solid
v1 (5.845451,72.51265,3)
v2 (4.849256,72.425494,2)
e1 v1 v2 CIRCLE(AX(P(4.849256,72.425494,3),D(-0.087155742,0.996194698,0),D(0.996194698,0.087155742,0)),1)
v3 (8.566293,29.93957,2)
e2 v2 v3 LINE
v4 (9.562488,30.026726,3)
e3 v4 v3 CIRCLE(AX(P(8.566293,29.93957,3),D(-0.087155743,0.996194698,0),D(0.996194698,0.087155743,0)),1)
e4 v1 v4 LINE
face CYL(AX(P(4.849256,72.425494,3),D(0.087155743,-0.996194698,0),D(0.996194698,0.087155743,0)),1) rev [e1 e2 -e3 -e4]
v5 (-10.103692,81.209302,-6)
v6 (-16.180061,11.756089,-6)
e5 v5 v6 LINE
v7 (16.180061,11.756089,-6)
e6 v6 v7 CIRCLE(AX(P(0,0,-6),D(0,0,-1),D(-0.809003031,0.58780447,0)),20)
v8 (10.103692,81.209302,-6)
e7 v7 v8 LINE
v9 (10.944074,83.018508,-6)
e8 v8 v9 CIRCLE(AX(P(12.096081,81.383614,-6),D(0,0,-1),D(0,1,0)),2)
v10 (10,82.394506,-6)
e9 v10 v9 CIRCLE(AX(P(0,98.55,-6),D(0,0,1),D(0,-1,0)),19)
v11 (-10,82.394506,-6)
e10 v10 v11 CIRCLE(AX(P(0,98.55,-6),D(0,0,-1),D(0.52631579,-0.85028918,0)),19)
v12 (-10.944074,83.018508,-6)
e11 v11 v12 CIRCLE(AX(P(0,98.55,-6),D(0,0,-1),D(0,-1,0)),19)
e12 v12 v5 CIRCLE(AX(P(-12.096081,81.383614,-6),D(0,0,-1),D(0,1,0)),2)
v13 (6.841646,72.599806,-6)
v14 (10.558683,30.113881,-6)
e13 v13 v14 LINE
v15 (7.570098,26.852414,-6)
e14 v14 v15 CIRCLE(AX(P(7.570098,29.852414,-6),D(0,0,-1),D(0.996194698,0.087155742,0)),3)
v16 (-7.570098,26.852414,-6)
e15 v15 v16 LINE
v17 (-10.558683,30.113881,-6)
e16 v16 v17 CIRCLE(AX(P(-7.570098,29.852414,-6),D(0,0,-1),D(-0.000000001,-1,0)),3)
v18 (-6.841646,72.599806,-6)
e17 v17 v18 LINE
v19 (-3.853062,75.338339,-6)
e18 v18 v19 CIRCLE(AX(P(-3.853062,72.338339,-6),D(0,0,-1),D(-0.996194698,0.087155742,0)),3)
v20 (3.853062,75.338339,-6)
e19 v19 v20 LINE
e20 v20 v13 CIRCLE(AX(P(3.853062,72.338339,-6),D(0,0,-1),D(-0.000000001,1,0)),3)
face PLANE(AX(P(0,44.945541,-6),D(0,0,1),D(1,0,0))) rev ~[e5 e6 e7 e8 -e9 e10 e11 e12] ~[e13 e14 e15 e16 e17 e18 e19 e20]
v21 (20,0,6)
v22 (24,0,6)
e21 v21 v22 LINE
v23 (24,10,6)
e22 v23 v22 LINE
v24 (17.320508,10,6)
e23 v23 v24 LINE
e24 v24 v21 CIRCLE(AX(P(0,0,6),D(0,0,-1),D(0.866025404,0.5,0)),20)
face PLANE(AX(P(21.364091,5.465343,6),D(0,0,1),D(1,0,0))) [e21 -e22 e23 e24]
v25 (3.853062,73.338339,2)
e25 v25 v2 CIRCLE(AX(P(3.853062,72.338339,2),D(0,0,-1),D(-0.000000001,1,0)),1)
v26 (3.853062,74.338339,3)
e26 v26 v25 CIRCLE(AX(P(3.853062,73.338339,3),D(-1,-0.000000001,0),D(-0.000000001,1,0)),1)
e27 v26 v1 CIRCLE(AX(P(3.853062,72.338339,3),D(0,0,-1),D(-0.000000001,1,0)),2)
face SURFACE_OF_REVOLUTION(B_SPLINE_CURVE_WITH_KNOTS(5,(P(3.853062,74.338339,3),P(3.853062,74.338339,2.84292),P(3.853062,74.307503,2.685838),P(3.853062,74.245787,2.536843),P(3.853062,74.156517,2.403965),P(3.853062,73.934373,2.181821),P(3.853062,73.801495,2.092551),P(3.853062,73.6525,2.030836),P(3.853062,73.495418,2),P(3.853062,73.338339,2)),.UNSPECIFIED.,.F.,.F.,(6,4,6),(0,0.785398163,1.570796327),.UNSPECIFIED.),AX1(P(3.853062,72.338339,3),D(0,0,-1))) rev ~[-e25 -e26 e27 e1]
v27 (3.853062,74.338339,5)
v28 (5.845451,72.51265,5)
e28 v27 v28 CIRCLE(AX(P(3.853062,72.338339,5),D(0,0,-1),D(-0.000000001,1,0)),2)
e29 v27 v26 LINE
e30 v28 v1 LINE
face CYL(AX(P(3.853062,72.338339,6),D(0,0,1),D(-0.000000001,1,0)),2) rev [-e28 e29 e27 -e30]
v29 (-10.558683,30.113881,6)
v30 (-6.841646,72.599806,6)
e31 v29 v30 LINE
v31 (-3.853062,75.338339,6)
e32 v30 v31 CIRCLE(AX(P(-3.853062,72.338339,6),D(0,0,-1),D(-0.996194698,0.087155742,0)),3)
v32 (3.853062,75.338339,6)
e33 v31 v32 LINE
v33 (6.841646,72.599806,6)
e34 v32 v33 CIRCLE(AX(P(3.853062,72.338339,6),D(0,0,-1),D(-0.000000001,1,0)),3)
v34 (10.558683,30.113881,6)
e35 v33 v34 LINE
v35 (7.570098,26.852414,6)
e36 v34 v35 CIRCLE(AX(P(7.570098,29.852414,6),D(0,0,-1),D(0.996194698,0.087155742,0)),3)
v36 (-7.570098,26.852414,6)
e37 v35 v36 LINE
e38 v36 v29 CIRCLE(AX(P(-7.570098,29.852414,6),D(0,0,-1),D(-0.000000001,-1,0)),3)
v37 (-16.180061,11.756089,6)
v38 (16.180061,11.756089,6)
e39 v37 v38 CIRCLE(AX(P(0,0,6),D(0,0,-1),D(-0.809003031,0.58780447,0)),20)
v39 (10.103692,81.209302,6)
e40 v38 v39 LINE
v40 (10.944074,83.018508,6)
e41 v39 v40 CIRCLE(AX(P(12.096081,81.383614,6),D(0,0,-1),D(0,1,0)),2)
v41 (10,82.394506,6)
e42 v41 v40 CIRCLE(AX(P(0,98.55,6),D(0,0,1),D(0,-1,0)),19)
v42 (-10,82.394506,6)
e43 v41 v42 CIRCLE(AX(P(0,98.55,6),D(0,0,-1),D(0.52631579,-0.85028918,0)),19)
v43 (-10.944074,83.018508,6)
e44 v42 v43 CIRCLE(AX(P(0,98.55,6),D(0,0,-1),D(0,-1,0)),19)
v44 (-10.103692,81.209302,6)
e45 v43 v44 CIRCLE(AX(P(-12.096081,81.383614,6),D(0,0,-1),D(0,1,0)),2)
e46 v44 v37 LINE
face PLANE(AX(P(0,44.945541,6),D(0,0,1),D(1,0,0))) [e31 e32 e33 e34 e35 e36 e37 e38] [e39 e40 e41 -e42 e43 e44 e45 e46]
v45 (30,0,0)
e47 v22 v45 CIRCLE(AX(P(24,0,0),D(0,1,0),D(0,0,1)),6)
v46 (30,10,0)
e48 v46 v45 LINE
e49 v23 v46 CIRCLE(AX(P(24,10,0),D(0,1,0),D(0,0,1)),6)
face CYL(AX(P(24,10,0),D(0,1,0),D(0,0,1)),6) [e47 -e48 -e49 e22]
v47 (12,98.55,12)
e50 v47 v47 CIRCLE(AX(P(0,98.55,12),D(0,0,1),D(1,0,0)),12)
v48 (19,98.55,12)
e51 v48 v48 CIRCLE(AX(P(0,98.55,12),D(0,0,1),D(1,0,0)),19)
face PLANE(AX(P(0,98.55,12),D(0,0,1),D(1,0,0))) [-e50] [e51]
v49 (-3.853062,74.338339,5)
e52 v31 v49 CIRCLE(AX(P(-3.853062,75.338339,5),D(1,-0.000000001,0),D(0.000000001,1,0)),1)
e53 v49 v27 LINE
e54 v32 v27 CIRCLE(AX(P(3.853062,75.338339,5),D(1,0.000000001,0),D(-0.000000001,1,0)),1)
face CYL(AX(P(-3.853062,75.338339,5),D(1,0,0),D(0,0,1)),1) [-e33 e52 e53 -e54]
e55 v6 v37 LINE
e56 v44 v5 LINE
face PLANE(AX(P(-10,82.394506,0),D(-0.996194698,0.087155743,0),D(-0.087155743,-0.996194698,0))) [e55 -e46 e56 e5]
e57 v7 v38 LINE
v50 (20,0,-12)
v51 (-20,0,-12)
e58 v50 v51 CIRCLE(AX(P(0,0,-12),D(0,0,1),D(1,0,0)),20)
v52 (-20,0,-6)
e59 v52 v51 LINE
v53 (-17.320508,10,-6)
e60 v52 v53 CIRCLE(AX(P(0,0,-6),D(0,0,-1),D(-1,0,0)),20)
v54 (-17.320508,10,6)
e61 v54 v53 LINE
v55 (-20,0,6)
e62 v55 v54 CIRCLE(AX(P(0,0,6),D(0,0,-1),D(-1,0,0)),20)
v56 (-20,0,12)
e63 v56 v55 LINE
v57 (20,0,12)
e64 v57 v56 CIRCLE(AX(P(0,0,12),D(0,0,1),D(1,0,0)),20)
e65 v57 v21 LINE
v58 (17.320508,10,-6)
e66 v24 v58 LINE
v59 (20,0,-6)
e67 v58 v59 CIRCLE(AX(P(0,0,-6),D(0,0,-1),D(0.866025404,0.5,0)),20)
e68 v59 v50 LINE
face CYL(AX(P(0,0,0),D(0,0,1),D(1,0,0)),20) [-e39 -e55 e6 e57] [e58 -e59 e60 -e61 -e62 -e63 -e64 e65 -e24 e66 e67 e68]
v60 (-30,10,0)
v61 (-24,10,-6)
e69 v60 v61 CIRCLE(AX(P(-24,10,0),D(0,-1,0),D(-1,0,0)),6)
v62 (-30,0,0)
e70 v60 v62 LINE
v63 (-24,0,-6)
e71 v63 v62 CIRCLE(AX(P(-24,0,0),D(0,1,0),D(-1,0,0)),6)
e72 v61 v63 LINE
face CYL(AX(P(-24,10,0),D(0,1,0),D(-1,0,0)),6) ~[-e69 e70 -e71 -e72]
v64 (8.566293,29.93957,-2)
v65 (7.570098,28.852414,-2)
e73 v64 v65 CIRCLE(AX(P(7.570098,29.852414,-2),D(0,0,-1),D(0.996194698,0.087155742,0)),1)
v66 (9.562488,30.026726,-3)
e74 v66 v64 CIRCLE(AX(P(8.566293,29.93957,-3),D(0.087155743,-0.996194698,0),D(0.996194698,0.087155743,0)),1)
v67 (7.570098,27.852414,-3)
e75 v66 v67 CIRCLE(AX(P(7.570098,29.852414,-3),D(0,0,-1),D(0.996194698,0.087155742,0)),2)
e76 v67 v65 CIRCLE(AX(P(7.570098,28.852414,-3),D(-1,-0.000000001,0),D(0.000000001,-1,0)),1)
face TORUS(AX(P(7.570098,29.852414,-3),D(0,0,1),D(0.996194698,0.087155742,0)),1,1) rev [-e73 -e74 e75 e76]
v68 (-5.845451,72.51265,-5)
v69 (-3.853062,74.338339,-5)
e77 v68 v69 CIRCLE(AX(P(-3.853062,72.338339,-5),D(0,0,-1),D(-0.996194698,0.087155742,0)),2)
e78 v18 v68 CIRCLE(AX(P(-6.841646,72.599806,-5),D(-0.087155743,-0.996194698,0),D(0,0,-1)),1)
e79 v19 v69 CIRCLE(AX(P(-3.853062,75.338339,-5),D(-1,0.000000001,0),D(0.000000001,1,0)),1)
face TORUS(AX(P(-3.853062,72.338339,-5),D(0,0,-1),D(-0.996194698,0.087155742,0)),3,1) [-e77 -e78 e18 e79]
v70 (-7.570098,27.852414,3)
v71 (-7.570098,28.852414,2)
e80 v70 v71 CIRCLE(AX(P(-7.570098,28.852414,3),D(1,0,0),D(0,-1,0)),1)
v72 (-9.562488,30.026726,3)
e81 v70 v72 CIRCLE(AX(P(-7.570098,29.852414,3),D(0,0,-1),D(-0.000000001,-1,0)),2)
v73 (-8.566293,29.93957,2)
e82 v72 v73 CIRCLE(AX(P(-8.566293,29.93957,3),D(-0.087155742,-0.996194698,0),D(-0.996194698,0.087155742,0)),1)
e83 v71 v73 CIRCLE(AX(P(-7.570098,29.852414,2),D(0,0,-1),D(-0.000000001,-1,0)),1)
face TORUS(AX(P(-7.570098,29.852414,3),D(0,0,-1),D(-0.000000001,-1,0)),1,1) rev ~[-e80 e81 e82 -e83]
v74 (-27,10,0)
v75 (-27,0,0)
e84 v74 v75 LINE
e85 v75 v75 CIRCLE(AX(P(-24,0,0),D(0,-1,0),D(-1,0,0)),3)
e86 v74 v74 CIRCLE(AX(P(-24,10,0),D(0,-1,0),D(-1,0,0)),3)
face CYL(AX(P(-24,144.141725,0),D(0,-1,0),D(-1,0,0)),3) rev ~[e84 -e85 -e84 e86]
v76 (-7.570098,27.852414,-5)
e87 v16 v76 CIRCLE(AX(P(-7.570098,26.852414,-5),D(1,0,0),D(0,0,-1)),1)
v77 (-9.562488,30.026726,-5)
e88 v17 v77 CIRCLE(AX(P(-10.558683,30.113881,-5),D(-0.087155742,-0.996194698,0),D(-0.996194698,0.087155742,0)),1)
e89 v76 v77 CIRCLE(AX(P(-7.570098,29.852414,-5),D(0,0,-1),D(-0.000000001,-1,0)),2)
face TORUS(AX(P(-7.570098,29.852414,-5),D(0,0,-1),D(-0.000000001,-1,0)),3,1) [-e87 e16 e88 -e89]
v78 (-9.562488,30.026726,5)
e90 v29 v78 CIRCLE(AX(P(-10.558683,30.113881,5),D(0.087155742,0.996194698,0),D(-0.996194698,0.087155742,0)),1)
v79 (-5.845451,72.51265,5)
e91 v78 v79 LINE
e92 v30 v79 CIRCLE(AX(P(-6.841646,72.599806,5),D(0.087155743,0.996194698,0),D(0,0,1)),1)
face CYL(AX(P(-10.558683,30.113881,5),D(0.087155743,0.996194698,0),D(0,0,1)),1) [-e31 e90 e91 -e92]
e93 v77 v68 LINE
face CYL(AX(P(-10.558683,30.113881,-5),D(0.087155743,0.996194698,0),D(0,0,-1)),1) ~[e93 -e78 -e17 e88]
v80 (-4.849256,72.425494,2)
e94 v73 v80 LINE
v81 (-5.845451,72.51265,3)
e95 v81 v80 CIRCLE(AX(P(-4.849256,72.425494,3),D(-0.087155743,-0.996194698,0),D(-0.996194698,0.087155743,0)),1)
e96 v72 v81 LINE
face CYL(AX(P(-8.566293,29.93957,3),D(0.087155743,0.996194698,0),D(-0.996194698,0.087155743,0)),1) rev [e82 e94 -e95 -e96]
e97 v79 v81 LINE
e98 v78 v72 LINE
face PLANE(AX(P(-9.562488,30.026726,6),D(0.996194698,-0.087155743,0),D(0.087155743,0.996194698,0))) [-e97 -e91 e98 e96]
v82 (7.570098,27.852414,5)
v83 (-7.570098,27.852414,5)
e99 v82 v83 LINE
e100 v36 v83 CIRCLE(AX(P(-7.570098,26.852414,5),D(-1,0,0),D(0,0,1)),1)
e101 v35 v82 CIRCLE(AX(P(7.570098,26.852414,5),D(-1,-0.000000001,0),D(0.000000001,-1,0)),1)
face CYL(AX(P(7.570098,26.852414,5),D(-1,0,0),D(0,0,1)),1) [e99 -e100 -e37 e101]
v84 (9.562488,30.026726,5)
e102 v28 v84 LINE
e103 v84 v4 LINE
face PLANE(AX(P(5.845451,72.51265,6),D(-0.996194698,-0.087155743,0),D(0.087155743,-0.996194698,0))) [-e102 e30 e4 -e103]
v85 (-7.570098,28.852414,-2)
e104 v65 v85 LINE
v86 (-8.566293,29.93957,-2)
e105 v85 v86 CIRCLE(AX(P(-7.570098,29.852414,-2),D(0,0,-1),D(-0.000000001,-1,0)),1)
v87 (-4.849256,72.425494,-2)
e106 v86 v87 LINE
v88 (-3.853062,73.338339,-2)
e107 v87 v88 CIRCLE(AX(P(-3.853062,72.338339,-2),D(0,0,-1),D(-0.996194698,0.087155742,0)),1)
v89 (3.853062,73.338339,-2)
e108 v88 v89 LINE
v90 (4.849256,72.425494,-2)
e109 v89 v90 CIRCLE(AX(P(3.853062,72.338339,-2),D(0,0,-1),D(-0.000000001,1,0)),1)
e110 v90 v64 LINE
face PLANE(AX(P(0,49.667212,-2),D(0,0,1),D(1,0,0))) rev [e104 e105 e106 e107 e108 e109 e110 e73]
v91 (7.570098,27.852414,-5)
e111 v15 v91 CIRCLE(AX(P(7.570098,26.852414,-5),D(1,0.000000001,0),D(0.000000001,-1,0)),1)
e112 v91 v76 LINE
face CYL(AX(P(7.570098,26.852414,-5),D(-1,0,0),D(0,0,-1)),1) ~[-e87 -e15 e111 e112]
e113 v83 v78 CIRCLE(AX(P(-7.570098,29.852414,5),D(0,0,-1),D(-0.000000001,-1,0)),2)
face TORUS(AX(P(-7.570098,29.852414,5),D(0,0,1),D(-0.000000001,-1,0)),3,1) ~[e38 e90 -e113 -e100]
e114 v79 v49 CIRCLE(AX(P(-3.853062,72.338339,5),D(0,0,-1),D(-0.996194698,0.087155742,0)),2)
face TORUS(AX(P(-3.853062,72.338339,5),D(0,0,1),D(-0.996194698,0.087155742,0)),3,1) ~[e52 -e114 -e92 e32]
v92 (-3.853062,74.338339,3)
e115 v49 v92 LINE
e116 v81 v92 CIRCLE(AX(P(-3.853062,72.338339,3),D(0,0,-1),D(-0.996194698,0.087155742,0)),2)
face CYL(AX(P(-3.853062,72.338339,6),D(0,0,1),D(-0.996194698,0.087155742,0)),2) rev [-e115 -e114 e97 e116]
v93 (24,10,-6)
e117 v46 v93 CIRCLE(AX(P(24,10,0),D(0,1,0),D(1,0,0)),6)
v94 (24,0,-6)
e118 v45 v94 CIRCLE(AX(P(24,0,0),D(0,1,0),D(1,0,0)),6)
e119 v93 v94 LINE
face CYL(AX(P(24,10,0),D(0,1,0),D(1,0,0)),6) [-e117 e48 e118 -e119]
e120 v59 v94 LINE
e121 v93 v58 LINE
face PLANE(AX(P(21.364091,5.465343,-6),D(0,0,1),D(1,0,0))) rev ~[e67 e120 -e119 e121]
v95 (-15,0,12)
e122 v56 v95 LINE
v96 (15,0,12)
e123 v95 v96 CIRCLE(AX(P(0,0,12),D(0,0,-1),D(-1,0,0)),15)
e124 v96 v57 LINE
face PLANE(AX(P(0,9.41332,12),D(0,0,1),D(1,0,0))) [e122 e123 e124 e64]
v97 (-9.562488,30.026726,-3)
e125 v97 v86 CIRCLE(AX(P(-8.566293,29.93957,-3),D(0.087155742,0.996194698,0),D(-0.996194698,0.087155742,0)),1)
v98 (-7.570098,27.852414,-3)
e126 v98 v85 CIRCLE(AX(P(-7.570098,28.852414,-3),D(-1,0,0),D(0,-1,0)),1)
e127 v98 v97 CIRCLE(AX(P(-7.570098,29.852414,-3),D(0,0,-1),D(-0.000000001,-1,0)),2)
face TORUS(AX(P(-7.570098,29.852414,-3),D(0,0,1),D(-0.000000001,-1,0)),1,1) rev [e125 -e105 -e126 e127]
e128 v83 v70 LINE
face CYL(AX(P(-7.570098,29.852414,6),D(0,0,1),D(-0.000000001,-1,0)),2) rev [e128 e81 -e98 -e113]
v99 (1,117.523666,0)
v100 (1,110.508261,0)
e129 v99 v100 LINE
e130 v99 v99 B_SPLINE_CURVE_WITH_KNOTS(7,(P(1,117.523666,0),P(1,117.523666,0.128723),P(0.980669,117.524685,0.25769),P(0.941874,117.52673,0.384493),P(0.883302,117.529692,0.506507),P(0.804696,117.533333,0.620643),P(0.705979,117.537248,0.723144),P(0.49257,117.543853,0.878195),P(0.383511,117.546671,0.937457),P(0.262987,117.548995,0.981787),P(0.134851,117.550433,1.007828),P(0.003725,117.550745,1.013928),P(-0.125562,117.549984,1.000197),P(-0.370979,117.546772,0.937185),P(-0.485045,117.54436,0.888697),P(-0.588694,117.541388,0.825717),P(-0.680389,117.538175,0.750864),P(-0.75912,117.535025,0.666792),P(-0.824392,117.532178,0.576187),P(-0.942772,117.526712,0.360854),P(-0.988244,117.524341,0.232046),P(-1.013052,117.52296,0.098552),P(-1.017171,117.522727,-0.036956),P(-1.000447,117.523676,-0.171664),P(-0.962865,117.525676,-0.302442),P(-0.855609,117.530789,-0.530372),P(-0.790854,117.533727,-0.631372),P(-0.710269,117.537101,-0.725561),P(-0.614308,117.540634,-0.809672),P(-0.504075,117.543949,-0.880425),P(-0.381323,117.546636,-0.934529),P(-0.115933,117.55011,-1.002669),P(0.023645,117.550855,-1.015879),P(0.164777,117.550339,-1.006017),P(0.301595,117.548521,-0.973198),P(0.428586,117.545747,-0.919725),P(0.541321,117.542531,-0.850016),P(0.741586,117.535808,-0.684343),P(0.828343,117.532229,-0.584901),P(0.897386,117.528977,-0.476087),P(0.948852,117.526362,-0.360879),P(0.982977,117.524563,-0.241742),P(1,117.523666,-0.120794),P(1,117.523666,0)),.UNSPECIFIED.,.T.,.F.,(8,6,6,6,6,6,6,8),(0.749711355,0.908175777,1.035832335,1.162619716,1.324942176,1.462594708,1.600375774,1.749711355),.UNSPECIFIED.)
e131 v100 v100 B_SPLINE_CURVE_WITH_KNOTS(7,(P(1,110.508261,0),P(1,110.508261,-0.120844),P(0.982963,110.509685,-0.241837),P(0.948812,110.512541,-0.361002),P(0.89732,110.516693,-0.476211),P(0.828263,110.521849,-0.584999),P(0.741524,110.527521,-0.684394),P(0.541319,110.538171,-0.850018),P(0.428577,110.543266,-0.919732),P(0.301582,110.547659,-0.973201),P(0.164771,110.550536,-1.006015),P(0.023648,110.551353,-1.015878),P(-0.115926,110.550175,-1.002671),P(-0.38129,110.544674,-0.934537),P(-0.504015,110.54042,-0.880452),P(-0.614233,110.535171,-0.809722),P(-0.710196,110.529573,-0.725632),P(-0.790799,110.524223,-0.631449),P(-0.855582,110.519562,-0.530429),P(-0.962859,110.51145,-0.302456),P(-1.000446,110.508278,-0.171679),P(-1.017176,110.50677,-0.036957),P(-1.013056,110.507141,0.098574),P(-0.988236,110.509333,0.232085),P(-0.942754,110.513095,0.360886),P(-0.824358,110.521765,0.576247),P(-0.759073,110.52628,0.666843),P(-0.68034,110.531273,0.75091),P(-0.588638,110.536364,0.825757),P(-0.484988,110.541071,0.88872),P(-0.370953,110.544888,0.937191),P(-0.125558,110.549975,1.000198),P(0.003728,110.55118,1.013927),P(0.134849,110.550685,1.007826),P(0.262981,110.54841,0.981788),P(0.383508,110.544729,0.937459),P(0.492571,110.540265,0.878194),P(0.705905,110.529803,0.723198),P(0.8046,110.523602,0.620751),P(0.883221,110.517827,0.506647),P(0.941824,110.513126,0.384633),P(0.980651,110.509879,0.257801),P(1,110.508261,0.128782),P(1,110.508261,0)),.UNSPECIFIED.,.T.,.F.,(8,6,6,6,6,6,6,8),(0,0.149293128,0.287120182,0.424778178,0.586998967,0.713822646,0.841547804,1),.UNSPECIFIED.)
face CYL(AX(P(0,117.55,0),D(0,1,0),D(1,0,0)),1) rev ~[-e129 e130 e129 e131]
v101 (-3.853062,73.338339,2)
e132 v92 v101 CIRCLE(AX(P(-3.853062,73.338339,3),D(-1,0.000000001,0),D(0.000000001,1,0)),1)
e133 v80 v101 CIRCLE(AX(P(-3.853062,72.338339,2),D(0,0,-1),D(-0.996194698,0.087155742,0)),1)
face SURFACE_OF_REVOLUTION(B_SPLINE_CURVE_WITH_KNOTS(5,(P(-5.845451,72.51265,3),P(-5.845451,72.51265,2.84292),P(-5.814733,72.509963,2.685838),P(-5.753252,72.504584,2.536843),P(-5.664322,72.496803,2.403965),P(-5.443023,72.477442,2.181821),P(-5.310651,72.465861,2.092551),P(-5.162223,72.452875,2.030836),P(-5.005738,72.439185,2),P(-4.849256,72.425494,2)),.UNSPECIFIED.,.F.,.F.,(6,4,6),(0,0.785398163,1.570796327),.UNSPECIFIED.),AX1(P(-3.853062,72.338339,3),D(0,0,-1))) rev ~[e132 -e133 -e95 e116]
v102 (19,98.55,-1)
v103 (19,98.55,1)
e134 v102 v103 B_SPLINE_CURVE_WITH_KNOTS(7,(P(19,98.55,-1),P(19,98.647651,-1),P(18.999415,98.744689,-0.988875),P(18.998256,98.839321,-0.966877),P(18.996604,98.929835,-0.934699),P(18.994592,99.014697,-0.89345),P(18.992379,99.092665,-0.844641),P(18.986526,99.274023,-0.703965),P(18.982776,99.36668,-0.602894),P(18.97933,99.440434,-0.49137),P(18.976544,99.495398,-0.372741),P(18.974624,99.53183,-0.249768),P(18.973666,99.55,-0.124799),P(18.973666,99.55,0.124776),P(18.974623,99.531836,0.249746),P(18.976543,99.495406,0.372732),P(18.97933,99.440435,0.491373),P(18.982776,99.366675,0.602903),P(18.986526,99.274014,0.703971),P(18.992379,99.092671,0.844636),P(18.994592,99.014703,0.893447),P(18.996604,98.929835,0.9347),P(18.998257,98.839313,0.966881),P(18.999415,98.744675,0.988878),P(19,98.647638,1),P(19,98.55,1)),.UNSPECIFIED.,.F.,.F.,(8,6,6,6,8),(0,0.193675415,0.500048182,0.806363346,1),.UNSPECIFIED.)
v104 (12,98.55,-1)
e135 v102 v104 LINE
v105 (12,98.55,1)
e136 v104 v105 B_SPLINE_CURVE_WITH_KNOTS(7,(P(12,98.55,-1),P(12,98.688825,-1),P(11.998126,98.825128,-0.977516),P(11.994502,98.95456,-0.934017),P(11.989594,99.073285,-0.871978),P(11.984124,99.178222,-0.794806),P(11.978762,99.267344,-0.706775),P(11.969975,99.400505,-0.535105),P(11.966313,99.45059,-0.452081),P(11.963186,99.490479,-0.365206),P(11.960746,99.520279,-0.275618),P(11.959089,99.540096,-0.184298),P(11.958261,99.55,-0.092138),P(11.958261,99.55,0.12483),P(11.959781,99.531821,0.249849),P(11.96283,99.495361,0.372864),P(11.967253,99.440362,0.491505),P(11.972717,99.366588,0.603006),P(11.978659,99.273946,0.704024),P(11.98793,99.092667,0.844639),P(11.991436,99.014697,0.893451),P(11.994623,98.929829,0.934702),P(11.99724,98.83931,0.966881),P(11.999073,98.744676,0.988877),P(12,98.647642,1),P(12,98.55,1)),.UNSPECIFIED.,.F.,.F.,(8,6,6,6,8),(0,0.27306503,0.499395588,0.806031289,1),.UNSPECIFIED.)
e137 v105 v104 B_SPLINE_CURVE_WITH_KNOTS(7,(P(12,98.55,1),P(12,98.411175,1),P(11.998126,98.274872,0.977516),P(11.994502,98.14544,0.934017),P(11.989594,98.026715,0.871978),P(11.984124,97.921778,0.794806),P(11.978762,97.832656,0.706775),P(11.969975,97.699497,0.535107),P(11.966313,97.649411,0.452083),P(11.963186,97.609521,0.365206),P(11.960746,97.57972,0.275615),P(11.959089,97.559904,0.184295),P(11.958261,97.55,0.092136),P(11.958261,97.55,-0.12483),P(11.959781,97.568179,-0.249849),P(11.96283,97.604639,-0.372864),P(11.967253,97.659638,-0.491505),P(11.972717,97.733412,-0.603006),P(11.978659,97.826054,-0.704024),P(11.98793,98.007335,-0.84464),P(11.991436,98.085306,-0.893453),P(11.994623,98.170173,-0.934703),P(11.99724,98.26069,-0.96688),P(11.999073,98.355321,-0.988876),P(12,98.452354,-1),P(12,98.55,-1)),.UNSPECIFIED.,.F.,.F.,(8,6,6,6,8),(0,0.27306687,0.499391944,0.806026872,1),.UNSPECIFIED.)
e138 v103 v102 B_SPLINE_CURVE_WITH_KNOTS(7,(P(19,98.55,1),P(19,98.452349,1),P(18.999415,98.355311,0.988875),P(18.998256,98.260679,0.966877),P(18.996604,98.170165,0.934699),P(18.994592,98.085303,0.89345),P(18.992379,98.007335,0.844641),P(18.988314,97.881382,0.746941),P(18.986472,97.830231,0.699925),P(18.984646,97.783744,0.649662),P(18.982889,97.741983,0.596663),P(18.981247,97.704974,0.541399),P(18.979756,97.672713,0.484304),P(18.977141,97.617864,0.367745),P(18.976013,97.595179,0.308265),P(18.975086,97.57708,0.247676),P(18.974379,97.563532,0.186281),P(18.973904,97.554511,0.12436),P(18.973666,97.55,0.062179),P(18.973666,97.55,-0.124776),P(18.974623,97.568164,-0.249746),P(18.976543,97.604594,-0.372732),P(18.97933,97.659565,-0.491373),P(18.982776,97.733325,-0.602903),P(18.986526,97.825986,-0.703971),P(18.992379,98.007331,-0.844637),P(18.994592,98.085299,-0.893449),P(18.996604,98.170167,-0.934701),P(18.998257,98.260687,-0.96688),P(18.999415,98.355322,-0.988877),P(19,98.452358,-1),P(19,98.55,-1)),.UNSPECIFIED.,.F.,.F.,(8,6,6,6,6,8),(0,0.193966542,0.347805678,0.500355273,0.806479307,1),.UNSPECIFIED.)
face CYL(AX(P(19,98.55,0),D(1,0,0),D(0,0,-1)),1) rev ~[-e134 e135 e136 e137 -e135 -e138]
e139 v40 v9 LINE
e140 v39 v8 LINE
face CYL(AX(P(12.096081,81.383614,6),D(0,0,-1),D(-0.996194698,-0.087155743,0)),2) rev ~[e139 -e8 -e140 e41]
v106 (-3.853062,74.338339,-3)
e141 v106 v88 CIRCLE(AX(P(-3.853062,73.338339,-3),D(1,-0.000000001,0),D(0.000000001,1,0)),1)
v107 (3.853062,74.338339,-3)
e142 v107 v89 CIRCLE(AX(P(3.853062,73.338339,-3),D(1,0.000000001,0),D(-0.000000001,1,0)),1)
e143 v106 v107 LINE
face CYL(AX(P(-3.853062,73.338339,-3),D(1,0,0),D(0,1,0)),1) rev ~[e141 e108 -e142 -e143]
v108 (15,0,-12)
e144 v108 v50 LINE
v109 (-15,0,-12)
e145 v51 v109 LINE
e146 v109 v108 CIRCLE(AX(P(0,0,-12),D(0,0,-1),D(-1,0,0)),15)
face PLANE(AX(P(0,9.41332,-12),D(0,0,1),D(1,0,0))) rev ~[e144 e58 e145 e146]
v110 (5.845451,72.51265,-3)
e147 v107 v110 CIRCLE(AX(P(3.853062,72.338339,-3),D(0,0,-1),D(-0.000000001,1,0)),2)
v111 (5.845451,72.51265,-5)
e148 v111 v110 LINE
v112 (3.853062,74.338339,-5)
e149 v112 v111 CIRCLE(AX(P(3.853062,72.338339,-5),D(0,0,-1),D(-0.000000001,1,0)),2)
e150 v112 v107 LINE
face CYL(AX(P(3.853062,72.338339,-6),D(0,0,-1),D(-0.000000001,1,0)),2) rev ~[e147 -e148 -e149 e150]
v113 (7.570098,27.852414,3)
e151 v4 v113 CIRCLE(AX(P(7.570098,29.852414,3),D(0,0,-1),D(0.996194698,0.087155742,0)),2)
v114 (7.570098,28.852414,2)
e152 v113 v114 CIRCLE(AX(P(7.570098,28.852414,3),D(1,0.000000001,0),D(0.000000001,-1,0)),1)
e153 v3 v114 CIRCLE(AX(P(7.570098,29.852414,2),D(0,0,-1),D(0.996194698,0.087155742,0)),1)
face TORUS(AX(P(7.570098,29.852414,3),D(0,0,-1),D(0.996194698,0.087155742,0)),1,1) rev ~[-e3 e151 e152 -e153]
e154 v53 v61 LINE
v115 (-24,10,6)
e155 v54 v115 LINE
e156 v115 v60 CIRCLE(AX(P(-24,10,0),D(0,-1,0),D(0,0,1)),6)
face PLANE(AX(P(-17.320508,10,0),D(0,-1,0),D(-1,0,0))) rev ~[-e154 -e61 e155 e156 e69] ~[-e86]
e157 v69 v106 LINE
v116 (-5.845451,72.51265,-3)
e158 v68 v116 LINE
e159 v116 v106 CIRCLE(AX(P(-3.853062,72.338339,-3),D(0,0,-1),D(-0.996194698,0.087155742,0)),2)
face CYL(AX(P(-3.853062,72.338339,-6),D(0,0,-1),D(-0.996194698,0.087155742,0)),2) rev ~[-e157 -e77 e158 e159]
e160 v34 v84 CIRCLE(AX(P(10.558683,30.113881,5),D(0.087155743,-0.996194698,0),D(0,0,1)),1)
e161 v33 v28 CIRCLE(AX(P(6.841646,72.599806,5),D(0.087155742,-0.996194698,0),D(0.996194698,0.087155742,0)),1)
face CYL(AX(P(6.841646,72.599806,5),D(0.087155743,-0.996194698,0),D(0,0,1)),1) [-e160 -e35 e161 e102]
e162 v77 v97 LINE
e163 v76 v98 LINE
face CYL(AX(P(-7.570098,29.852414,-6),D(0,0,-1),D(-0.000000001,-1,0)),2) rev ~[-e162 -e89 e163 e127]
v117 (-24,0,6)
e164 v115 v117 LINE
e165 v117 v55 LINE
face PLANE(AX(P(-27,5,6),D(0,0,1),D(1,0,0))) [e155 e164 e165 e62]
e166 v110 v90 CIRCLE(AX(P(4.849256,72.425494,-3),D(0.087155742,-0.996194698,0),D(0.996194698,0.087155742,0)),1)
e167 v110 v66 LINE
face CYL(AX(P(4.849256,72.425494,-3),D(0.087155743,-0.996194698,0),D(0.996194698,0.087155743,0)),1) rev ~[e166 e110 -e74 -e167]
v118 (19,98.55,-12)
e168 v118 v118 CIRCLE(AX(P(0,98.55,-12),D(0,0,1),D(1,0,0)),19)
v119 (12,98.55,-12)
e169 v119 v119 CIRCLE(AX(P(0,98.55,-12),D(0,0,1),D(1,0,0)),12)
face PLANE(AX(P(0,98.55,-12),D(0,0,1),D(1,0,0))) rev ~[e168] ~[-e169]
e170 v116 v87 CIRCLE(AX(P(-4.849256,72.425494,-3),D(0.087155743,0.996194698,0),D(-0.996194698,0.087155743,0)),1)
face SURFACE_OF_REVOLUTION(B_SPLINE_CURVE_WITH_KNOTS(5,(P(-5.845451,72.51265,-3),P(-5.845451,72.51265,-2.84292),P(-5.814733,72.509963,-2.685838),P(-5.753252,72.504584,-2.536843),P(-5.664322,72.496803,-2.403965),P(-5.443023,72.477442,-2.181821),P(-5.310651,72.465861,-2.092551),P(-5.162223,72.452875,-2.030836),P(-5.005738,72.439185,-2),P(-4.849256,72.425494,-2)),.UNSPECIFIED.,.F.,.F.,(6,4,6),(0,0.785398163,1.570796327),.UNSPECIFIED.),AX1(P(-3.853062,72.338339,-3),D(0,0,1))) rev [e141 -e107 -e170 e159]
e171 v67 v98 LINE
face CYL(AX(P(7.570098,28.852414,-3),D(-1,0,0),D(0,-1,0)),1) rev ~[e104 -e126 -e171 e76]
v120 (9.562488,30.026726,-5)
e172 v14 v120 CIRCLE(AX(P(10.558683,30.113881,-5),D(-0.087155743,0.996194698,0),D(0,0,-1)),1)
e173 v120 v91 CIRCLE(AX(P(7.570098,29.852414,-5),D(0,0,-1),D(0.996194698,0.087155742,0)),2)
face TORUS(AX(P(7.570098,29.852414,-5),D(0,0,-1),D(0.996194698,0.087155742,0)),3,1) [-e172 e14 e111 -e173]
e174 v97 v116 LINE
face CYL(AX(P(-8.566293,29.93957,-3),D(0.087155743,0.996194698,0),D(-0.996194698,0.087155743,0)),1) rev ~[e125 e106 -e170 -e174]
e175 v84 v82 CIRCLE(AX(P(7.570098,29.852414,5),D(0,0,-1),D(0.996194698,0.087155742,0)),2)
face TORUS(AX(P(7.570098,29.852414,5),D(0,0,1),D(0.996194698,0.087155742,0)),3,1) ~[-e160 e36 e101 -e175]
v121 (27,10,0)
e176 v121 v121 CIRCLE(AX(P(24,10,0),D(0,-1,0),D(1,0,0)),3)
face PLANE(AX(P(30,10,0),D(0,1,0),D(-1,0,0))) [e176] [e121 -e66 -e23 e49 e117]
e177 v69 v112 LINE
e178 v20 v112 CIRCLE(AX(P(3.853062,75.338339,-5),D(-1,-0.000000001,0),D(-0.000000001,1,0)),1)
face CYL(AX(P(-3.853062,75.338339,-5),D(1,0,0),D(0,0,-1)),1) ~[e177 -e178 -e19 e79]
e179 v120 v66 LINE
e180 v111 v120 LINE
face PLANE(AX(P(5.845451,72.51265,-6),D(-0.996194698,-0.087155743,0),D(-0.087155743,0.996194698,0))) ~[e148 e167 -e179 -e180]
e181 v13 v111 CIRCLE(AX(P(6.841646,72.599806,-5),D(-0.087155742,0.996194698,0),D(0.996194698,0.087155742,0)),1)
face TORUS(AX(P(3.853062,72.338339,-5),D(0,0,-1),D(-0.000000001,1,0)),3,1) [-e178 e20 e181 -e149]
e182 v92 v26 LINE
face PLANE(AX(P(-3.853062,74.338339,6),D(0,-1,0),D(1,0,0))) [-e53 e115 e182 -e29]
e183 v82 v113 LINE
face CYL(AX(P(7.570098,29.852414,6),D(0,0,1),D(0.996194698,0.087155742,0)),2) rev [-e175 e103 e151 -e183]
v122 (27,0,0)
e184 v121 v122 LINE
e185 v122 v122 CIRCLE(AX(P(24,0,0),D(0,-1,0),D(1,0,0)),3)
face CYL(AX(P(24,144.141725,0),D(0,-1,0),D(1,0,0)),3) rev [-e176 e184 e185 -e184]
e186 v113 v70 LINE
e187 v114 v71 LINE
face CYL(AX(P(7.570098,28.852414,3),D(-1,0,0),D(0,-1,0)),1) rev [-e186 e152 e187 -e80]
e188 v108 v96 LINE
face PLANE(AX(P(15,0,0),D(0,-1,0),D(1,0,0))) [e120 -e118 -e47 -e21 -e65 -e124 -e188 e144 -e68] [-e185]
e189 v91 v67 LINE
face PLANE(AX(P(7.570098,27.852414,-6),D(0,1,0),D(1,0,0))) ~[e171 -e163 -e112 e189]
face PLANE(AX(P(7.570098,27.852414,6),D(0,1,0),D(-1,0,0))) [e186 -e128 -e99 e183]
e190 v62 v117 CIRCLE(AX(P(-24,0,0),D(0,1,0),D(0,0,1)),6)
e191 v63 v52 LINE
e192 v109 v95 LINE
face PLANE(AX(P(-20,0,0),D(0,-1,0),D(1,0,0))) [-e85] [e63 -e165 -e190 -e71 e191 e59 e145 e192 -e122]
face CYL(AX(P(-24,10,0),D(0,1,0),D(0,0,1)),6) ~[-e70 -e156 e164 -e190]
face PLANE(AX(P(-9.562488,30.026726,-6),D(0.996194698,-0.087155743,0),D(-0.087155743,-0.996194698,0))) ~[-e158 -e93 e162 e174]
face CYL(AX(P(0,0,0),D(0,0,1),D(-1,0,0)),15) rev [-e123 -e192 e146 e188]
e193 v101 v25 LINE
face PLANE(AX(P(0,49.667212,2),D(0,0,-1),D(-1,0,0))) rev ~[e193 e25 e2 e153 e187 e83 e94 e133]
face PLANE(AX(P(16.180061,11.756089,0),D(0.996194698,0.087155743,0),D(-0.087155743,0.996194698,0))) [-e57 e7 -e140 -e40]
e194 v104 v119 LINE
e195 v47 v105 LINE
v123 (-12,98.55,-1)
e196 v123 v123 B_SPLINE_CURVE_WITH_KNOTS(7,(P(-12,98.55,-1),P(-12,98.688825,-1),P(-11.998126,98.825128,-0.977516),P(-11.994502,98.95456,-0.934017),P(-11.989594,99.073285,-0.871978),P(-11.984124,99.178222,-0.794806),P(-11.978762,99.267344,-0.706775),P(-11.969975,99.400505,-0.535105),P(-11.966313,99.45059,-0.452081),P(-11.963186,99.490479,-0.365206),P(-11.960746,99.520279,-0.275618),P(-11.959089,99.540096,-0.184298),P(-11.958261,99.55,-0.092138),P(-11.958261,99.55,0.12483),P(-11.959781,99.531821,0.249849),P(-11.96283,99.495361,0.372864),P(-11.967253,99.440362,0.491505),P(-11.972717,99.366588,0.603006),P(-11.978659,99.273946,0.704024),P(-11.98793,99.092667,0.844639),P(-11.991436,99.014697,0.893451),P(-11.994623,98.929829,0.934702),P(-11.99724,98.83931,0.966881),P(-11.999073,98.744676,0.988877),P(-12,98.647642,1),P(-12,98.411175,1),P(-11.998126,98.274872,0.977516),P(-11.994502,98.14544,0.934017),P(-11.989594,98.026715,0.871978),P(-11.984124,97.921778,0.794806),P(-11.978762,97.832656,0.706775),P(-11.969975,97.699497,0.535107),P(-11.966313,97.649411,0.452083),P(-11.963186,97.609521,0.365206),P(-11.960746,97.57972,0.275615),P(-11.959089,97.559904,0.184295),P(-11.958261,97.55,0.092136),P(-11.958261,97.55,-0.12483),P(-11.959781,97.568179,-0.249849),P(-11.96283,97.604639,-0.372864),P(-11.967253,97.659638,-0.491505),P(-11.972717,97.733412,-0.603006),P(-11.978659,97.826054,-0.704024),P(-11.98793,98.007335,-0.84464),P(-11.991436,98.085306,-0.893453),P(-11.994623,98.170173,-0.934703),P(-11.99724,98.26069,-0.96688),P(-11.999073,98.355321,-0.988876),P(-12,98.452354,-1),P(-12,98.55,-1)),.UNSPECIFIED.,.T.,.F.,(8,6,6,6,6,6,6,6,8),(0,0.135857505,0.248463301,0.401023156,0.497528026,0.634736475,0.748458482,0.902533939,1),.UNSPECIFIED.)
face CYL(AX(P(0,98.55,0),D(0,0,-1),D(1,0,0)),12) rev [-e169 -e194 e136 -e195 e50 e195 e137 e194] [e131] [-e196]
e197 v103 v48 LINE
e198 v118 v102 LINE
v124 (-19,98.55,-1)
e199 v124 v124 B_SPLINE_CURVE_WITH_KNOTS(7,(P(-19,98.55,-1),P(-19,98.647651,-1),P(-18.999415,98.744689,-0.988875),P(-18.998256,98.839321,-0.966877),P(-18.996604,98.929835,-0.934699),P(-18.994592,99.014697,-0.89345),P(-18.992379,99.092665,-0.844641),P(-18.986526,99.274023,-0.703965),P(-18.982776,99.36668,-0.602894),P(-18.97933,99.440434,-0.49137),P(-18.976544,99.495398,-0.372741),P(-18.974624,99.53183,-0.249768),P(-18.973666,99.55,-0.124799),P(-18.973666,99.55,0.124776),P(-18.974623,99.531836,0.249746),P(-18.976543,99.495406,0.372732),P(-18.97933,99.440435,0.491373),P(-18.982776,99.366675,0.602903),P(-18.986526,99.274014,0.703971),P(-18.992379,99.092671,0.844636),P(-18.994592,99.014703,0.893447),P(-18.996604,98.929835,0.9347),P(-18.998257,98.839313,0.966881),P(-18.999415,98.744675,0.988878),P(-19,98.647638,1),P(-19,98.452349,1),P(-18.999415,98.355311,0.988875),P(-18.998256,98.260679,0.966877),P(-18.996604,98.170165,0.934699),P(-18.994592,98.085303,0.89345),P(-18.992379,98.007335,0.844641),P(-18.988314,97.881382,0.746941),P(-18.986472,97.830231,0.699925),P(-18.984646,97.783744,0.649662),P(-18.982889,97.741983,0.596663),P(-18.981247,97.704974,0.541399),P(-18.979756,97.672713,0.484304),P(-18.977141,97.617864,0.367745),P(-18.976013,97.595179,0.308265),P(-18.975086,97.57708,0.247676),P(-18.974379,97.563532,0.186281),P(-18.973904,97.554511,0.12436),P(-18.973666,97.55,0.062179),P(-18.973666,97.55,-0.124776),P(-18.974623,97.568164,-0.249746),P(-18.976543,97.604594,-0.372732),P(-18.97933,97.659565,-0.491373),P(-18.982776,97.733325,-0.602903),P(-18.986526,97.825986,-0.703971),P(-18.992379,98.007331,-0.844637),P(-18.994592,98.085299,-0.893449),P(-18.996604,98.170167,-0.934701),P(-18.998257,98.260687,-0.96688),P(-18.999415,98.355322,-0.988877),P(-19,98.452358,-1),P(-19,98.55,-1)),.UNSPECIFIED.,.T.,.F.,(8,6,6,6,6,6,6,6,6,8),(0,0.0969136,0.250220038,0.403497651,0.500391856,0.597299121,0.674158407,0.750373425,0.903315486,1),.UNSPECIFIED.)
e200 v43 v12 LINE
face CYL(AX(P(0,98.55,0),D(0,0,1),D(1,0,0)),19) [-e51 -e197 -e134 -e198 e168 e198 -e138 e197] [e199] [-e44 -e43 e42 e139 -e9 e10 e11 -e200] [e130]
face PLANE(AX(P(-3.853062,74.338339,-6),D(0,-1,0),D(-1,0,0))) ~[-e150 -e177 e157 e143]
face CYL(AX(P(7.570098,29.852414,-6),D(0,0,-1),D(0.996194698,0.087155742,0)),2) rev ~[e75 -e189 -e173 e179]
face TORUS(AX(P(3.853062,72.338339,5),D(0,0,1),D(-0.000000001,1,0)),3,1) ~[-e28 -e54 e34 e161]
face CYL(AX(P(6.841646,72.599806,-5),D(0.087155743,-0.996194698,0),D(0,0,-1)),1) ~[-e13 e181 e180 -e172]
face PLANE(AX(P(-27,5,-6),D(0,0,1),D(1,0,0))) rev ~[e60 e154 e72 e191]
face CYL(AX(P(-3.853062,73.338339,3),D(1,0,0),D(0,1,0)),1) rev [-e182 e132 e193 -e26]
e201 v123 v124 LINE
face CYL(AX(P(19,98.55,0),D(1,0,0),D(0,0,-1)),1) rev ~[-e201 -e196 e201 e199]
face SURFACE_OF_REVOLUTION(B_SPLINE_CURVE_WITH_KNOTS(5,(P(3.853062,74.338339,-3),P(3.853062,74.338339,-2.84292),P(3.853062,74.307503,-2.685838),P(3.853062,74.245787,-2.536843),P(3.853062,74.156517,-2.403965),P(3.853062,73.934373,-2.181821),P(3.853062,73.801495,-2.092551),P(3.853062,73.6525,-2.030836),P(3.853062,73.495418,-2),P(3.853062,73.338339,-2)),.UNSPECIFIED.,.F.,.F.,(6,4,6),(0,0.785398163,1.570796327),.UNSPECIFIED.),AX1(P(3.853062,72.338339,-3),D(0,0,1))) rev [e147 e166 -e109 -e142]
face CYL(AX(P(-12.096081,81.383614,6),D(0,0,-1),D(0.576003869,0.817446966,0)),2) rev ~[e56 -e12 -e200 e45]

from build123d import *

# Parameters (mm, degrees)
Y_KSEKLIK_EKSTR_ZYON1_DEPTH = 12
Y_KSEKLIK_EKSTR_ZYON2_DEPTH = 6
IZIM1_4_R                   = 19
IZIM1_4_R_2                 = 12
Y_KSEKLIK_EKSTR_ZYON3_DEPTH = 12
IZIM1_5_W                   = 6
IZIM1_5_H                   = 10
Y_KSEKLIK_EKSTR_ZYON4_DEPTH = 6
KES_EKSTR_ZYON1_DEPTH       = 11
F_6_0_6_AP_DELIK1_D         = 6
KES_EKSTR_ZYON2_DEPTH       = 4
RADYUS1_R                   = 1
RADYUS2_R                   = 1
IZIM9_R                     = 1
KES_EKSTR_ZYON3_DEPTH       = 50
IZIM10_R                    = 1
KES_EKSTR_ZYON4_DEPTH       = 16
RADYUS3_R                   = 2


with BuildPart() as part:
    # Çizim1 → Yükseklik-Ekstrüzyon1 (new body, symmetric)
    with BuildSketch(Plane.XY):
        with BuildLine():
            Line((-20, 0), (-15, 0))
            ThreePointArc((-15, 0), (0, 15), (15, 0))
            Line((15, 0), (20, 0))
            ThreePointArc((20, 0), (0, 20), (-20, 0))
        make_face()
    extrude(amount=Y_KSEKLIK_EKSTR_ZYON1_DEPTH, both=True)

    # Çizim1<3> → Yükseklik-Ekstrüzyon2 (add, symmetric)
    with BuildSketch(Plane.XY):
        with BuildLine():
            Line((-10, 82.394505579), (-16.180060624, 11.756089409))
            ThreePointArc((-16.180060624, 11.756089409), (0, 20), (16.180060624, 11.756089409))
            Line((16.180060624, 11.756089409), (10, 82.394505579))
            ThreePointArc((10, 82.394505579), (0, 79.55), (-10, 82.394505579))
        make_face()
    extrude(amount=Y_KSEKLIK_EKSTR_ZYON2_DEPTH, both=True)

    # Çizim1<4> → Yükseklik-Ekstrüzyon3 (add, symmetric)
    with BuildSketch(Plane.XY):
        with Locations((0, 98.55)):
            Circle(IZIM1_4_R)
        with Locations((0, 98.55)):
            Circle(IZIM1_4_R_2, mode=Mode.SUBTRACT)
    extrude(amount=Y_KSEKLIK_EKSTR_ZYON3_DEPTH, both=True)

    # Çizim1<5> → Yükseklik-Ekstrüzyon4 (add, symmetric)
    with BuildSketch(Plane.XY):
        with Locations((-27, 5)):
            Rectangle(IZIM1_5_W, IZIM1_5_H)
        with BuildLine():
            Line((-24, 0), (-20, 0))
            ThreePointArc((-20, 0), (-19.318516526, 5.176380902), (-17.320508076, 10))
            Line((-17.320508076, 10), (-24, 10))
            Line((-24, 10), (-24, 0))
        make_face()
        with BuildLine():
            ThreePointArc((17.320508076, 10), (19.318516526, 5.176380902), (20, 0))
            Line((20, 0), (24, 0))
            Line((24, 0), (24, 10))
            Line((24, 10), (17.320508076, 10))
        make_face()
        with Locations((27, 5)):
            Rectangle(IZIM1_5_W, IZIM1_5_H)
    extrude(amount=Y_KSEKLIK_EKSTR_ZYON4_DEPTH, both=True)

    # Çizim2 → Kes-Ekstrüzyon1 (cut, through all)
    with BuildSketch(Plane(origin=(0, 10, 0), x_dir=(1, 0, 0), z_dir=(0, 1, 0))):
        with BuildLine():
            ThreePointArc((-30, 0), (-28.242640687, 4.242640687), (-24, 6))
            Line((-24, 6), (-30, 6))
            Line((-30, 6), (-30, 0))
        make_face()
        with BuildLine():
            Line((-30, -6), (-24, -6))
            ThreePointArc((-24, -6), (-28.242640687, -4.242640687), (-30, 0))
            Line((-30, 0), (-30, -6))
        make_face()
    kes_ekstr_zyon1 = extrude(amount=-KES_EKSTR_ZYON1_DEPTH, mode=Mode.SUBTRACT)

    # Ø6.0 (6) Çap Delik1 (through all)
    with Locations(Plane(origin=(0, 10, 0), x_dir=(1, 0, 0), z_dir=(0, 1, 0))):
        with Locations((-24, 0)):
            f_6_0_6_ap_delik1 = Hole(F_6_0_6_AP_DELIK1_D / 2)

    # Aynalama1: Ø6.0 (6) Çap Delik1 across plane
    add(f_6_0_6_ap_delik1.mirror(Plane(origin=(0, 0, 0), x_dir=(0, 0, 1), z_dir=(1, 0, 0))), mode=Mode.SUBTRACT)

    # Çizim8 → Kes-Ekstrüzyon2 (cut)
    with BuildSketch(Plane.XY.offset(6)):
        with BuildLine():
            Line((5.845451143, 72.512650075), (9.562487885, 30.026725708))
            ThreePointArc((9.562487885, 30.026725708), (9.044653162, 28.501233808), (7.570098489, 27.852414223))
            Line((7.570098489, 27.852414223), (-7.570098489, 27.852414223))
            ThreePointArc((-7.570098489, 27.852414223), (-9.044653162, 28.501233808), (-9.562487885, 30.026725708))
            Line((-9.562487885, 30.026725708), (-5.845451143, 72.512650075))
            ThreePointArc((-5.845451143, 72.512650075), (-5.204242163, 73.812893263), (-3.853061747, 74.338338589))
            Line((-3.853061747, 74.338338589), (3.853061747, 74.338338589))
            ThreePointArc((3.853061747, 74.338338589), (5.204242163, 73.812893263), (5.845451143, 72.512650075))
        make_face()
    kes_ekstr_zyon2 = extrude(amount=-KES_EKSTR_ZYON2_DEPTH, mode=Mode.SUBTRACT)

    # Aynalama2: Kes-Ekstrüzyon2 across plane
    add(kes_ekstr_zyon2.mirror(Plane.XY), mode=Mode.SUBTRACT)

    # Radyus1
    radyus1_edges = [part.edges().sort_by_distance(p)[0] for p in [
        (5.204242163, 73.812893263, 2),
        (7.703969514, 51.269687892, 2),
        (9.044653162, 28.501233808, 2),
        (0, 27.852414223, 2),
        (-9.044653162, 28.501233808, 2),
        (-7.703969514, 51.269687892, 2),
        (-5.204242163, 73.812893263, 2),
        (0, 74.338338589, 2),
        (5.204242163, 73.812893263, 6),
        (0, 74.338338589, 6),
        (-5.204242163, 73.812893263, 6),
        (-7.703969514, 51.269687892, 6),
        (-9.044653162, 28.501233808, 6),
        (0, 27.852414223, 6),
        (9.044653162, 28.501233808, 6),
        (7.703969514, 51.269687892, 6),
    ]]
    fillet(radyus1_edges, radius=RADYUS1_R)

    # Radyus2
    radyus2_edges = [part.edges().sort_by_distance(p)[0] for p in [
        (5.204242163, 73.812893263, -6),
        (0, 74.338338589, -6),
        (-5.204242163, 73.812893263, -6),
        (-7.703969514, 51.269687892, -6),
        (-9.044653162, 28.501233808, -6),
        (0, 27.852414223, -6),
        (9.044653162, 28.501233808, -6),
        (7.703969514, 51.269687892, -6),
        (5.204242163, 73.812893263, -2),
        (0, 74.338338589, -2),
        (-5.204242163, 73.812893263, -2),
        (-7.703969514, 51.269687892, -2),
        (-9.044653162, 28.501233808, -2),
        (0, 27.852414223, -2),
        (9.044653162, 28.501233808, -2),
        (7.703969514, 51.269687892, -2),
    ]]
    fillet(radyus2_edges, radius=RADYUS2_R)

    # Aynalama3: Kes-Ekstrüzyon1 across plane
    add(kes_ekstr_zyon1.mirror(Plane(origin=(0, 0, 0), x_dir=(0, 0, 1), z_dir=(1, 0, 0))), mode=Mode.SUBTRACT)

    # Çizim9 → Kes-Ekstrüzyon3 (cut, through all)
    with BuildSketch(Plane(origin=(19, 0, 0), x_dir=(0, 0, -1), z_dir=(1, 0, 0))):
        with Locations((0, 98.55)):
            Circle(IZIM9_R)
    extrude(amount=-KES_EKSTR_ZYON3_DEPTH, mode=Mode.SUBTRACT)

    # Çizim10 → Kes-Ekstrüzyon4 (cut)
    with BuildSketch(Plane(origin=(0, 117.55, 0), x_dir=(1, 0, 0), z_dir=(0, 1, 0))):
        Circle(IZIM10_R)
    extrude(amount=-KES_EKSTR_ZYON4_DEPTH, mode=Mode.SUBTRACT)

    # Radyus3
    radyus3_edges = [part.edges().sort_by_distance(p)[0] for p in [
        (10, 82.394505579, 0),
        (-10, 82.394505579, 0),
    ]]
    fillet(radyus3_edges, radius=RADYUS3_R)


solid = part.part
